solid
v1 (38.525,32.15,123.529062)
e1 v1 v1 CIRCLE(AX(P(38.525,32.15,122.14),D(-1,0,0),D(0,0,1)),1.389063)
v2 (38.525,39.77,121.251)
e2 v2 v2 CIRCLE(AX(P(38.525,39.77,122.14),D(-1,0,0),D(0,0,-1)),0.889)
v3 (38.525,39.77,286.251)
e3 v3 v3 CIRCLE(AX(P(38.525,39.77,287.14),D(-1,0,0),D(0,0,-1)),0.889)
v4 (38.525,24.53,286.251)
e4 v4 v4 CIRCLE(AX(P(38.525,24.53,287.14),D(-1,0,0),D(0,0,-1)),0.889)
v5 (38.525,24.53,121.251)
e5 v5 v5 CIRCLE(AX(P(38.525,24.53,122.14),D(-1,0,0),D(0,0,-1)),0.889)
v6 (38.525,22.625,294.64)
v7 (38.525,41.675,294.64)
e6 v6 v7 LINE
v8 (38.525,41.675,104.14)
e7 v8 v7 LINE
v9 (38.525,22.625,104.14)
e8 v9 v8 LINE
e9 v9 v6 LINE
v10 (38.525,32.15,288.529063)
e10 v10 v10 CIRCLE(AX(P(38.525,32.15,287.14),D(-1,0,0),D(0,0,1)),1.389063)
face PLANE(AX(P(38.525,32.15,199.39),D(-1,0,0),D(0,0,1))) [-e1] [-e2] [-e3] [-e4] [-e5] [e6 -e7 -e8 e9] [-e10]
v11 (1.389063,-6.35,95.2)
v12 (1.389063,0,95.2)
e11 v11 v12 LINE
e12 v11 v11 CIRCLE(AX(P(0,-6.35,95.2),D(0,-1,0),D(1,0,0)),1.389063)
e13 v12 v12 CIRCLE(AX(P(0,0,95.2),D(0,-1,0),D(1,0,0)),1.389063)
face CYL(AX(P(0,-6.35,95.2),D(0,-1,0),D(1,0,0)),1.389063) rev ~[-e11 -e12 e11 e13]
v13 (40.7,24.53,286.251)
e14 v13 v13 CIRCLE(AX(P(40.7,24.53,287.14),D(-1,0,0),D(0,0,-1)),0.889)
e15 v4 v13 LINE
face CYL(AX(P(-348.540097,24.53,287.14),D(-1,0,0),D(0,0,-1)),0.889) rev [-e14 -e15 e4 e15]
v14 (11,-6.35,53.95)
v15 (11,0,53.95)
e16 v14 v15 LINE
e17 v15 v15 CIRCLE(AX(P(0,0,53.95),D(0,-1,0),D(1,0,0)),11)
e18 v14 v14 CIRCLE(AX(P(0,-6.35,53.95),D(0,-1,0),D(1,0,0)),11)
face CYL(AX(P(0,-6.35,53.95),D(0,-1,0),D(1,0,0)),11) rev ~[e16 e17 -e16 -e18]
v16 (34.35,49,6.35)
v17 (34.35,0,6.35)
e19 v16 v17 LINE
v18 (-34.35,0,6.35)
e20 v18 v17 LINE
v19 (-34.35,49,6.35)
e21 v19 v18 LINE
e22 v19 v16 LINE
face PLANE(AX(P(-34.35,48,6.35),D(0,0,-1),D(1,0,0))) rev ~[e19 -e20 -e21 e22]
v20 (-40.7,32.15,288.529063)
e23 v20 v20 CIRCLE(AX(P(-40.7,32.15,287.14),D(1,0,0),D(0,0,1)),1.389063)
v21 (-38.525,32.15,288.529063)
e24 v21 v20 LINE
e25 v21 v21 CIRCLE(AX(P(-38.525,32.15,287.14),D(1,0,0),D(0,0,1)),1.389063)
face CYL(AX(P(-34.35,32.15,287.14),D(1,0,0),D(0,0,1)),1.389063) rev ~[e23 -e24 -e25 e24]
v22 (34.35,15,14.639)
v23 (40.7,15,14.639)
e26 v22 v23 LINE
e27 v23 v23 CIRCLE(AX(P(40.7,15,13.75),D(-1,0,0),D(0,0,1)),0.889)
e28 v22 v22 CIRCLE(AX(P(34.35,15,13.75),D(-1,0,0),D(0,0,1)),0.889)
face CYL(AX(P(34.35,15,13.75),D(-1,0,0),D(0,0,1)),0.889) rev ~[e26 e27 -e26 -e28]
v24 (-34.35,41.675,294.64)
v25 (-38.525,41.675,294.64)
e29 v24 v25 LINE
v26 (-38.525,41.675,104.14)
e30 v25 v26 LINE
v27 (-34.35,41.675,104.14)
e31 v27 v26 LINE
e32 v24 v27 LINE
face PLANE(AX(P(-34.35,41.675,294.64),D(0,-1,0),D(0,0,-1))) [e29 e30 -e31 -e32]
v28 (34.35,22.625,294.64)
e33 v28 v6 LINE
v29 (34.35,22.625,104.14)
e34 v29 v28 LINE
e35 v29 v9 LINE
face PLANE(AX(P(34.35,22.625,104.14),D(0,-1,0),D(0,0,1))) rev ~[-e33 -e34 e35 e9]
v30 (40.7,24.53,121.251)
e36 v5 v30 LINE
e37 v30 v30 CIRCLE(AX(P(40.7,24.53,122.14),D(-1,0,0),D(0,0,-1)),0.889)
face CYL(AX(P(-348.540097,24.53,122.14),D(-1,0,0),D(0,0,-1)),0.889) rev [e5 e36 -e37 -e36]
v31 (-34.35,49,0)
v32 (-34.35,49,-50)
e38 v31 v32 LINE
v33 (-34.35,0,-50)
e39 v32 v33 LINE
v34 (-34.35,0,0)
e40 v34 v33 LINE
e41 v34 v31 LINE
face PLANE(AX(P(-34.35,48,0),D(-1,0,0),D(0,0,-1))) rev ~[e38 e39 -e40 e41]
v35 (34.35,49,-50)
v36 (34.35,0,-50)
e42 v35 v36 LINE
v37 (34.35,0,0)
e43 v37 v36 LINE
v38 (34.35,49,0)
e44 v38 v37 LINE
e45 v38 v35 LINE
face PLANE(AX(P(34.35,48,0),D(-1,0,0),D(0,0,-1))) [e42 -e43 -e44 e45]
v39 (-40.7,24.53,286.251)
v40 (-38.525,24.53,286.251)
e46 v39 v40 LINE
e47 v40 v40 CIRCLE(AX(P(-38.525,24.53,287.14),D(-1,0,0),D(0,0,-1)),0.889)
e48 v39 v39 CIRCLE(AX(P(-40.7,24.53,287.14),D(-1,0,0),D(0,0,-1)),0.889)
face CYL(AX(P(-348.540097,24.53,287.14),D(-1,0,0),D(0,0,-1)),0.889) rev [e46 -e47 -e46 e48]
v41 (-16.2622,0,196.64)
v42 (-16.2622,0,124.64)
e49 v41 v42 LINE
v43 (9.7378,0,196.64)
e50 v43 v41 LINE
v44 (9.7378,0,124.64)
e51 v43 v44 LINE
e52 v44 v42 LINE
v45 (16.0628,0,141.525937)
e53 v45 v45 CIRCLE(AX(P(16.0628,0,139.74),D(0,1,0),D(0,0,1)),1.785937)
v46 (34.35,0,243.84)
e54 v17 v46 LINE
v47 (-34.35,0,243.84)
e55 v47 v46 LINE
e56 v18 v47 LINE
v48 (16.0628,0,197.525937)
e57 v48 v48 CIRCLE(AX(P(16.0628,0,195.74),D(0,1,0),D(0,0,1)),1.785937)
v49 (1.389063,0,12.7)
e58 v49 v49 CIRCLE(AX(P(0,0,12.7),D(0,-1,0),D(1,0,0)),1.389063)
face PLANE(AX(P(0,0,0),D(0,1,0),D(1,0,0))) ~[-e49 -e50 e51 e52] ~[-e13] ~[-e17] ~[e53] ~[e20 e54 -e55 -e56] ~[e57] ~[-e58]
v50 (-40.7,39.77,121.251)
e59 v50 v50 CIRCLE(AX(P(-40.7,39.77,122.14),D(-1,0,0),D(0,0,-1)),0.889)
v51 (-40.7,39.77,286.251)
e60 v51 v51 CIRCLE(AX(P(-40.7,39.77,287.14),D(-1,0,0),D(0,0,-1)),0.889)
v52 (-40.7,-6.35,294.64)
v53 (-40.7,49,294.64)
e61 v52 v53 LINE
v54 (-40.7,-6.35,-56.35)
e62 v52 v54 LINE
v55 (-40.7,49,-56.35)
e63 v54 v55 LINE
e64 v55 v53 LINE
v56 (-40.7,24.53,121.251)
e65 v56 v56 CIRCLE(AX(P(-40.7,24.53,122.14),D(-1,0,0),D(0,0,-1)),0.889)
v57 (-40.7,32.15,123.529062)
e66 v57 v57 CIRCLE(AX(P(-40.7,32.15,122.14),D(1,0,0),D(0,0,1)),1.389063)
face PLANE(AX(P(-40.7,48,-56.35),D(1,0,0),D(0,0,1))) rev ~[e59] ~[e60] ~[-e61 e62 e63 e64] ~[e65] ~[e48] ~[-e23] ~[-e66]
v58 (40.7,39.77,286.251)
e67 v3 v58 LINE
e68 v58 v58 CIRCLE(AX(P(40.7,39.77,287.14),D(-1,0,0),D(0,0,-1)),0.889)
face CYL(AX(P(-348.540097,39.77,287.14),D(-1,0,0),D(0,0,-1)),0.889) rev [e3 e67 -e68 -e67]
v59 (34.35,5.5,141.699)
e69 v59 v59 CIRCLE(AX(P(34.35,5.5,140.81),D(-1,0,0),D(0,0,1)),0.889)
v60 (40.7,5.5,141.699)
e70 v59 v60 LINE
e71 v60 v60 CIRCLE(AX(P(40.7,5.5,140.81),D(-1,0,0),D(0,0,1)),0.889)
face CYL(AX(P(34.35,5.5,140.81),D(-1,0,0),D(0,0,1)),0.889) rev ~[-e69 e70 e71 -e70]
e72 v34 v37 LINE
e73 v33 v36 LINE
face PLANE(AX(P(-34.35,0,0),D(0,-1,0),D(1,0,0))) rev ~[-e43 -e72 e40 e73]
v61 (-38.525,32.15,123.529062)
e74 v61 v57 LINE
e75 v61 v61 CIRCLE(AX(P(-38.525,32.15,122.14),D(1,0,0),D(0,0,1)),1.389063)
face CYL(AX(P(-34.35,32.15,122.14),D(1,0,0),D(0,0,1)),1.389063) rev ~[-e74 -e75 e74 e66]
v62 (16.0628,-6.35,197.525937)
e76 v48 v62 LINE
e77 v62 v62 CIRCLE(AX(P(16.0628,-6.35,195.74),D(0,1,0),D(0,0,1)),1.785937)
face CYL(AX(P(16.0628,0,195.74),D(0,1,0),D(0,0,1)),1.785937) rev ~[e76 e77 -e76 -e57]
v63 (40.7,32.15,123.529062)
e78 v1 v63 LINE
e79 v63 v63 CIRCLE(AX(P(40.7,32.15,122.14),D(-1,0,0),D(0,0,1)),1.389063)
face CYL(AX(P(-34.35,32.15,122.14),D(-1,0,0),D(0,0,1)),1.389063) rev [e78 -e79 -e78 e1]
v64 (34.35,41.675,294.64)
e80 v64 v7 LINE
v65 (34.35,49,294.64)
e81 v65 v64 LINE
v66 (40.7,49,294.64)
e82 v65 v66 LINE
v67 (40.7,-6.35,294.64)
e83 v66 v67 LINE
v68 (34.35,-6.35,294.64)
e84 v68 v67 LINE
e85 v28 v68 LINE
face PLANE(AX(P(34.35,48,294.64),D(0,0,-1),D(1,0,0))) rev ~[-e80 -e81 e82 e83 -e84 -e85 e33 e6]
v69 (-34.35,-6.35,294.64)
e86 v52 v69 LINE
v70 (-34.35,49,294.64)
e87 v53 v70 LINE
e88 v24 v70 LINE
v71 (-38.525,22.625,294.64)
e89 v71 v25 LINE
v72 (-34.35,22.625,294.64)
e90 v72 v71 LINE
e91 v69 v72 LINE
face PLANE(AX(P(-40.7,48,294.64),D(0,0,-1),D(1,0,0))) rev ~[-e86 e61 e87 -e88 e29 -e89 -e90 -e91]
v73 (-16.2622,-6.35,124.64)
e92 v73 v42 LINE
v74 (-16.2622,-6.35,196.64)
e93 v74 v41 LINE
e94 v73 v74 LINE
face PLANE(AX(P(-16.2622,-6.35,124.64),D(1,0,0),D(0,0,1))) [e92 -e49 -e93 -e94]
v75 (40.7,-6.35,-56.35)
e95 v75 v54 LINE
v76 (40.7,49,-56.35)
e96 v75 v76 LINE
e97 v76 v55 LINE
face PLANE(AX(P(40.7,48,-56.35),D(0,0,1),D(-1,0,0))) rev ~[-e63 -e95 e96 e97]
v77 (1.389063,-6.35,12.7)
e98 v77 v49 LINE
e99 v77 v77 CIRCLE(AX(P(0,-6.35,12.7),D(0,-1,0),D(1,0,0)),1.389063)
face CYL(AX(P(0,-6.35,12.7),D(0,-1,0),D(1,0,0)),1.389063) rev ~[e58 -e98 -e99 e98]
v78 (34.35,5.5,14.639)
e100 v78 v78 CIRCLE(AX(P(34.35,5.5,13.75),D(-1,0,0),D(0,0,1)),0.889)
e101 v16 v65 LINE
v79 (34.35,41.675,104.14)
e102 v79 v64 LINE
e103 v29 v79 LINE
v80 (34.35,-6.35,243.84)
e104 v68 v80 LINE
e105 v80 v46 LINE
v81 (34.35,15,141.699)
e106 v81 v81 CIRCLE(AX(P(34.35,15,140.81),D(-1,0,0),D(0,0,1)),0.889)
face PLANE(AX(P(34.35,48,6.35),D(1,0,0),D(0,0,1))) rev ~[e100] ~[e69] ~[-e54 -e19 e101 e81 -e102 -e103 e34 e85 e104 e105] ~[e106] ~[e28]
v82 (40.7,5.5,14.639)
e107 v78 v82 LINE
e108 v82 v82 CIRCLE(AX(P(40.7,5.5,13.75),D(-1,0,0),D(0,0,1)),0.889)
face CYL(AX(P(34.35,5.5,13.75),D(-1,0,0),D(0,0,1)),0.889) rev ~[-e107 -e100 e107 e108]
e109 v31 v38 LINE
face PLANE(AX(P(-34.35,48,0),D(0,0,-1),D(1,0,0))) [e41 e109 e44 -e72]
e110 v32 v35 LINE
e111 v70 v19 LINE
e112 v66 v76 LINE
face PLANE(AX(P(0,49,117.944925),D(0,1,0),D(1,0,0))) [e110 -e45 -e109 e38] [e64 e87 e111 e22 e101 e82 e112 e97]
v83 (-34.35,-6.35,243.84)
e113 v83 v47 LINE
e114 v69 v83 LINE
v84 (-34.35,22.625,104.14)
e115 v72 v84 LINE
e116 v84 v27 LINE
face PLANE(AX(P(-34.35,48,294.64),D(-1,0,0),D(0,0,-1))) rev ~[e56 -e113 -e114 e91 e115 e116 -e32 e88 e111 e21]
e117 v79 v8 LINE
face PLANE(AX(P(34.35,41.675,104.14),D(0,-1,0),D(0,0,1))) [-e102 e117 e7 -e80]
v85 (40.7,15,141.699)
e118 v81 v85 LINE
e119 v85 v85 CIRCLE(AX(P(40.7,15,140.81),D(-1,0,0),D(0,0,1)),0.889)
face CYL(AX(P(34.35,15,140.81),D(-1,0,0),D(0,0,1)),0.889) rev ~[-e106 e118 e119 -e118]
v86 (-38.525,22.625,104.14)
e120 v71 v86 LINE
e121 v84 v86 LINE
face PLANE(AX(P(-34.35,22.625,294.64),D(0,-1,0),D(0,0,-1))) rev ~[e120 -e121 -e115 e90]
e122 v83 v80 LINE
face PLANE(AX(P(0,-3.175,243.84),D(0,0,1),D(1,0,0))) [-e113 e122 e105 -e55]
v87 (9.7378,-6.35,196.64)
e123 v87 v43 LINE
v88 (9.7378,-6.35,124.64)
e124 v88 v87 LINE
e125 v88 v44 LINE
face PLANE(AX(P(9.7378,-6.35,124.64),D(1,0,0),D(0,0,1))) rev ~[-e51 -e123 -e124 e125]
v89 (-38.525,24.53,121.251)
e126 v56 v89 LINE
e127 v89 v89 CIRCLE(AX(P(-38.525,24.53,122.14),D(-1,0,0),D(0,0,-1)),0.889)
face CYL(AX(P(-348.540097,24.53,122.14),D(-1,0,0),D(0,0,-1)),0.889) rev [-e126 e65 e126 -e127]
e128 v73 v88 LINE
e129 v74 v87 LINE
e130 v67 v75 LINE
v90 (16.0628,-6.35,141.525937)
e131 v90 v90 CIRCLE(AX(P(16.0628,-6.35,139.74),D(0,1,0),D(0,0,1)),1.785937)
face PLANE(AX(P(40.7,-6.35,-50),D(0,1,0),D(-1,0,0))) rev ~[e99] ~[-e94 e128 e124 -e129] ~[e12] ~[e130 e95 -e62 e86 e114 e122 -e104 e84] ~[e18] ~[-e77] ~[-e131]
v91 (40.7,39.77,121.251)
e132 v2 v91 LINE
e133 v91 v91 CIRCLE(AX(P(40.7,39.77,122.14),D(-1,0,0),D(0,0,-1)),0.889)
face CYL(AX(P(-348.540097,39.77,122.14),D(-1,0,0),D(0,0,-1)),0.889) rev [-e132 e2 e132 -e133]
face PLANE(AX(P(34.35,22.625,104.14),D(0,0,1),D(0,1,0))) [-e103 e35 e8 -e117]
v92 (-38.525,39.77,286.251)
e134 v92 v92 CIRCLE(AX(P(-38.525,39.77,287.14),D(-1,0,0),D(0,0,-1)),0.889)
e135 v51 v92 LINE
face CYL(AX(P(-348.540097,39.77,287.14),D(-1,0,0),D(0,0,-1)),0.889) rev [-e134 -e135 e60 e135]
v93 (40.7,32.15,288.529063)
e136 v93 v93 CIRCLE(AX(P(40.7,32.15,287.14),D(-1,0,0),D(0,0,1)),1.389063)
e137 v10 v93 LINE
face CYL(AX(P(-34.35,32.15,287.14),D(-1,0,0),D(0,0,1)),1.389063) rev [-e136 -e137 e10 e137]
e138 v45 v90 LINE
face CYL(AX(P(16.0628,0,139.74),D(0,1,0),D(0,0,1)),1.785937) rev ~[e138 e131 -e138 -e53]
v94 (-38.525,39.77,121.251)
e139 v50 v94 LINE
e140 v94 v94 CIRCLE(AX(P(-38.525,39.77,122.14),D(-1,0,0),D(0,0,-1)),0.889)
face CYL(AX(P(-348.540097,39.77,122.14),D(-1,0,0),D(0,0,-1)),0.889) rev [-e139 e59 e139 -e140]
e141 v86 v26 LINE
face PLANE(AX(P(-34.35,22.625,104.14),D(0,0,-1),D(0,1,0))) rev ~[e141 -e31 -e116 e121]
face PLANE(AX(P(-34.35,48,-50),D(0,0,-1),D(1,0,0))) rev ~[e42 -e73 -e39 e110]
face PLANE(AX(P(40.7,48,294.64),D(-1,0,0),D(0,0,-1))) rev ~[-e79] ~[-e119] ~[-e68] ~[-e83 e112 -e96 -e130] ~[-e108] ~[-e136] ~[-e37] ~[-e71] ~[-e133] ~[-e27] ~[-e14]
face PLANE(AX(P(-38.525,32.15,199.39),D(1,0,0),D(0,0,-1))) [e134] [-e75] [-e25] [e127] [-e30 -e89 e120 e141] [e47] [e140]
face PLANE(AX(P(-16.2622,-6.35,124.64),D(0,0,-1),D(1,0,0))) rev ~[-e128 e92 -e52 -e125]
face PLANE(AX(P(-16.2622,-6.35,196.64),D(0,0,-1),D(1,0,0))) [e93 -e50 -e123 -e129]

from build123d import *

# Parameters (mm, degrees)
BOSS_EXTRUDE1_DEPTH            = 294.64
SKETCH3_W                      = 68.7
SKETCH3_H                      = 6.35
BOSS_EXTRUDE2_DEPTH            = 48
CUT_EXTRUDE2_REACH             = 304.363
SKETCH4_R                      = 1.3890625
SKETCH4_R_2                    = 11
SKETCH4_W                      = 26
SKETCH4_H                      = 72
CUT_EXTRUDE3_REACH             = 303.286
SKETCH5_R                      = 1.7859375
CUT_EXTRUDE4_REACH             = 309.814
SKETCH6_R                      = 1.3890625
CUT_EXTRUDE4_DIRECTION_2_REACH = 309.814
CUT_EXTRUDE5_REACH             = 309.814
SKETCH11_R                     = 0.889
SKETCH12_W                     = 68.7
SKETCH12_H                     = 6.35
CUT_EXTRUDE6_DEPTH             = 50.8
BOSS_EXTRUDE3_DEPTH            = 50
SKETCH14_W                     = 81.4
SKETCH14_H                     = 54.35
BOSS_EXTRUDE4_DEPTH            = 6.35
SKETCH15_W                     = 68.7
SKETCH15_H                     = 50
BOSS_EXTRUDE5_DEPTH            = 1
SKETCH16_W                     = 190.5
SKETCH16_H                     = 19.05
CUT_EXTRUDE7_DEPTH             = 4.175
SKETCH17_W                     = 190.5
SKETCH17_H                     = 19.05
CUT_EXTRUDE8_DEPTH             = 4.175
CUT_EXTRUDE9_DEPTH             = 310.015097083
CUT_EXTRUDE9_DEPTH_BACK        = 310.015097083
SKETCH18_R                     = 0.889


with BuildPart() as part:
    # Sketch1 → Boss-Extrude1 (new body)
    with BuildSketch(Plane.XY):
        Polygon((0, 0), (34.35, 0), (34.35, 48), (40.7, 48), (40.7, -6.35), (0, -6.35), align=None)
    extrude(amount=BOSS_EXTRUDE1_DEPTH)

    # Mirror1: part across plane


with BuildPart() as part_1:
    add(part.part)
    add(part.part.mirror(Plane(origin=(0, -6.35, 294.64), x_dir=(0, 0, 1), z_dir=(1, 0, 0))))

    # Sketch3 → Boss-Extrude2 (add)
    with BuildSketch(Plane(origin=(0, 0, 0), x_dir=(1, 0, 0), z_dir=(0, 1, 0))):
        with Locations((0, -3.175)):
            Rectangle(SKETCH3_W, SKETCH3_H)
    extrude(amount=BOSS_EXTRUDE2_DEPTH)

    # Sketch4 → Cut-Extrude2 (cut, up to next)
    with BuildSketch(Plane.XZ.offset(6.35), mode=Mode.PRIVATE) as cut_extrude2_sk1:
        with Locations((0, 12.7)):
            Circle(SKETCH4_R)
    cut_extrude2_tool1 = extrude(cut_extrude2_sk1.sketch, amount=-CUT_EXTRUDE2_REACH, mode=Mode.PRIVATE) & part_1.part
    # Sketch4 → Cut-Extrude2 (cut, up to next)
    with BuildSketch(Plane.XZ.offset(6.35), mode=Mode.PRIVATE) as cut_extrude2_sk2:
        with Locations((0, 95.2)):
            Circle(SKETCH4_R)
    cut_extrude2_tool2 = extrude(cut_extrude2_sk2.sketch, amount=-CUT_EXTRUDE2_REACH, mode=Mode.PRIVATE) & part_1.part
    # Sketch4 → Cut-Extrude2 (cut, up to next)
    with BuildSketch(Plane.XZ.offset(6.35), mode=Mode.PRIVATE) as cut_extrude2_sk3:
        with Locations((0, 53.95)):
            Circle(SKETCH4_R_2)
    cut_extrude2_tool3 = extrude(cut_extrude2_sk3.sketch, amount=-CUT_EXTRUDE2_REACH, mode=Mode.PRIVATE) & part_1.part
    # Sketch4 → Cut-Extrude2 (cut, up to next)
    with BuildSketch(Plane.XZ.offset(6.35), mode=Mode.PRIVATE) as cut_extrude2_sk4:
        with Locations((-3.2622, 160.64)):
            Rectangle(SKETCH4_W, SKETCH4_H)
    cut_extrude2_tool4 = extrude(cut_extrude2_sk4.sketch, amount=-CUT_EXTRUDE2_REACH, mode=Mode.PRIVATE) & part_1.part
    add(cut_extrude2_tool1.solids().sort_by_distance((0, -6.35, 12.7))[0], mode=Mode.SUBTRACT)
    add(cut_extrude2_tool2.solids().sort_by_distance((0, -6.35, 95.2))[0], mode=Mode.SUBTRACT)
    add(cut_extrude2_tool3.solids().sort_by_distance((0, -6.35, 53.95))[0], mode=Mode.SUBTRACT)
    add(cut_extrude2_tool4.solids().sort_by_distance((-3.2622, -6.35, 160.64))[0], mode=Mode.SUBTRACT)

    # Sketch5 → Cut-Extrude3 (cut, up to next)
    with BuildSketch(Plane(origin=(0, 0, 0), x_dir=(1, 0, 0), z_dir=(0, 1, 0)), mode=Mode.PRIVATE) as cut_extrude3_sk1:
        with Locations(Location((16.0628, -195.74, 0), (0, 0, 270))):
            Circle(SKETCH5_R)
    cut_extrude3_tool1 = extrude(cut_extrude3_sk1.sketch, amount=-CUT_EXTRUDE3_REACH, mode=Mode.PRIVATE) & part_1.part
    # Sketch5 → Cut-Extrude3 (cut, up to next)
    with BuildSketch(Plane(origin=(0, 0, 0), x_dir=(1, 0, 0), z_dir=(0, 1, 0)), mode=Mode.PRIVATE) as cut_extrude3_sk2:
        with Locations(Location((16.0628, -139.74, 0), (0, 0, 270))):
            Circle(SKETCH5_R)
    cut_extrude3_tool2 = extrude(cut_extrude3_sk2.sketch, amount=-CUT_EXTRUDE3_REACH, mode=Mode.PRIVATE) & part_1.part
    add(cut_extrude3_tool1.solids().sort_by_distance((16.0628, 0, 195.74))[0], mode=Mode.SUBTRACT)
    add(cut_extrude3_tool2.solids().sort_by_distance((16.0628, 0, 139.74))[0], mode=Mode.SUBTRACT)

    # Cut-Extrude4: up to this face of the body (flat: up to its plane)
    cut_extrude4_end = Plane(part_1.part.faces().sort_by_distance((40.7, 20.825, 147.32))[0])
    # Sketch6 → Cut-Extrude4 (cut, up to the picked face)
    with BuildSketch(Plane(origin=(-34.35, 0, 0), x_dir=(0, 0, -1), z_dir=(1, 0, 0)), mode=Mode.PRIVATE) as cut_extrude4_sk1:
        with Locations(Location((-287.14, 32.15, 0), (0, 0, 180))):
            Circle(SKETCH6_R)
    cut_extrude4_tool1 = split(extrude(cut_extrude4_sk1.sketch, amount=CUT_EXTRUDE4_REACH, mode=Mode.PRIVATE), bisect_by=cut_extrude4_end, keep=Keep.BOTH, mode=Mode.PRIVATE)
    # Sketch6 → Cut-Extrude4 (cut, up to the picked face)
    with BuildSketch(Plane(origin=(-34.35, 0, 0), x_dir=(0, 0, -1), z_dir=(1, 0, 0)), mode=Mode.PRIVATE) as cut_extrude4_sk2:
        with Locations(Location((-122.14, 32.15, 0), (0, 0, 180))):
            Circle(SKETCH6_R)
    cut_extrude4_tool2 = split(extrude(cut_extrude4_sk2.sketch, amount=CUT_EXTRUDE4_REACH, mode=Mode.PRIVATE), bisect_by=cut_extrude4_end, keep=Keep.BOTH, mode=Mode.PRIVATE)
    add(cut_extrude4_tool1.solids().sort_by(Axis((-34.35, 32.15, 287.14), (1, 0, 0)))[0], mode=Mode.SUBTRACT)
    add(cut_extrude4_tool2.solids().sort_by(Axis((-34.35, 32.15, 122.14), (1, 0, 0)))[0], mode=Mode.SUBTRACT)

    # Cut-Extrude4 direction 2: up to this face of the body (flat: up to its plane)
    cut_extrude4_direction_2_end = Plane(part_1.part.faces().sort_by_distance((-40.7, 20.825, 147.32))[0])
    # Sketch6 → Cut-Extrude4 direction 2 (cut, up to the picked face)
    with BuildSketch(Plane(origin=(-34.35, 0, 0), x_dir=(0, 0, -1), z_dir=(1, 0, 0)), mode=Mode.PRIVATE) as cut_extrude4_direction_2_sk1:
        with Locations(Location((-287.14, 32.15, 0), (0, 0, 180))):
            Circle(SKETCH6_R)
    cut_extrude4_direction_2_tool1 = split(extrude(cut_extrude4_direction_2_sk1.sketch, amount=-CUT_EXTRUDE4_DIRECTION_2_REACH, mode=Mode.PRIVATE), bisect_by=cut_extrude4_direction_2_end, keep=Keep.BOTH, mode=Mode.PRIVATE)
    # Sketch6 → Cut-Extrude4 direction 2 (cut, up to the picked face)
    with BuildSketch(Plane(origin=(-34.35, 0, 0), x_dir=(0, 0, -1), z_dir=(1, 0, 0)), mode=Mode.PRIVATE) as cut_extrude4_direction_2_sk2:
        with Locations(Location((-122.14, 32.15, 0), (0, 0, 180))):
            Circle(SKETCH6_R)
    cut_extrude4_direction_2_tool2 = split(extrude(cut_extrude4_direction_2_sk2.sketch, amount=-CUT_EXTRUDE4_DIRECTION_2_REACH, mode=Mode.PRIVATE), bisect_by=cut_extrude4_direction_2_end, keep=Keep.BOTH, mode=Mode.PRIVATE)
    add(cut_extrude4_direction_2_tool1.solids().sort_by(Axis((-34.35, 32.15, 287.14), (-1, 0, 0)))[0], mode=Mode.SUBTRACT)
    add(cut_extrude4_direction_2_tool2.solids().sort_by(Axis((-34.35, 32.15, 122.14), (-1, 0, 0)))[0], mode=Mode.SUBTRACT)

    # Sketch11 → Cut-Extrude5 (cut, up to next)
    with BuildSketch(Plane.ZY.offset(-34.35), mode=Mode.PRIVATE) as cut_extrude5_sk1:
        with Locations((13.75, 5.5)):
            Circle(SKETCH11_R)
    cut_extrude5_tool1 = extrude(cut_extrude5_sk1.sketch, amount=-CUT_EXTRUDE5_REACH, mode=Mode.PRIVATE) & part_1.part
    # Sketch11 → Cut-Extrude5 (cut, up to next)
    with BuildSketch(Plane.ZY.offset(-34.35), mode=Mode.PRIVATE) as cut_extrude5_sk2:
        with Locations((13.75, 15)):
            Circle(SKETCH11_R)
    cut_extrude5_tool2 = extrude(cut_extrude5_sk2.sketch, amount=-CUT_EXTRUDE5_REACH, mode=Mode.PRIVATE) & part_1.part
    # Sketch11 → Cut-Extrude5 (cut, up to next)
    with BuildSketch(Plane.ZY.offset(-34.35), mode=Mode.PRIVATE) as cut_extrude5_sk3:
        with Locations((140.81, 15)):
            Circle(SKETCH11_R)
    cut_extrude5_tool3 = extrude(cut_extrude5_sk3.sketch, amount=-CUT_EXTRUDE5_REACH, mode=Mode.PRIVATE) & part_1.part
    # Sketch11 → Cut-Extrude5 (cut, up to next)
    with BuildSketch(Plane.ZY.offset(-34.35), mode=Mode.PRIVATE) as cut_extrude5_sk4:
        with Locations((140.81, 5.5)):
            Circle(SKETCH11_R)
    cut_extrude5_tool4 = extrude(cut_extrude5_sk4.sketch, amount=-CUT_EXTRUDE5_REACH, mode=Mode.PRIVATE) & part_1.part
    add(cut_extrude5_tool1.solids().sort_by_distance((34.35, 5.5, 13.75))[0], mode=Mode.SUBTRACT)
    add(cut_extrude5_tool2.solids().sort_by_distance((34.35, 15, 13.75))[0], mode=Mode.SUBTRACT)
    add(cut_extrude5_tool3.solids().sort_by_distance((34.35, 15, 140.81))[0], mode=Mode.SUBTRACT)
    add(cut_extrude5_tool4.solids().sort_by_distance((34.35, 5.5, 140.81))[0], mode=Mode.SUBTRACT)

    # Sketch12 → Cut-Extrude6 (cut)
    with BuildSketch(Plane.XY.offset(294.64)):
        with Locations((0, -3.175)):
            Rectangle(SKETCH12_W, SKETCH12_H)
    extrude(amount=-CUT_EXTRUDE6_DEPTH, mode=Mode.SUBTRACT)

    # Sketch13 → Boss-Extrude3 (add)
    with BuildSketch(Plane(origin=(0, 0, 0), x_dir=(-1, 0, 0), z_dir=(0, 0, -1))):
        Polygon((34.35, 48), (34.35, 0), (-34.35, 0), (-34.35, 48), (-40.7, 48), (-40.7, -6.35), (40.7, -6.35), (40.7, 48), align=None)
    extrude(amount=BOSS_EXTRUDE3_DEPTH)

    # Sketch14 → Boss-Extrude4 (add)
    with BuildSketch(Plane(origin=(0, 0, -50), x_dir=(-1, 0, 0), z_dir=(0, 0, -1))):
        with Locations((0, 20.825)):
            Rectangle(SKETCH14_W, SKETCH14_H)
    extrude(amount=BOSS_EXTRUDE4_DEPTH)

    # Sketch15 → Boss-Extrude5 (add)
    with BuildSketch(Plane(origin=(0, 48, 0), x_dir=(1, 0, 0), z_dir=(0, 1, 0))):
        Polygon((40.7, -294.64), (40.7, 56.35), (-40.7, 56.35), (-40.7, -294.64), (-34.35, -294.64), (-34.35, -6.35), (34.35, -6.35), (34.35, -294.64), align=None)
        with Locations((0, 25)):
            Rectangle(SKETCH15_W, SKETCH15_H, mode=Mode.SUBTRACT)
    extrude(amount=BOSS_EXTRUDE5_DEPTH)

    # Sketch16 → Cut-Extrude7 (cut)
    with BuildSketch(Plane(origin=(-34.35, 0, 0), x_dir=(0, 0, -1), z_dir=(1, 0, 0))):
        with Locations((-199.39, 32.15)):
            Rectangle(SKETCH16_W, SKETCH16_H)
    extrude(amount=-CUT_EXTRUDE7_DEPTH, mode=Mode.SUBTRACT)

    # Sketch17 → Cut-Extrude8 (cut)
    with BuildSketch(Plane.ZY.offset(-34.35)):
        with Locations((199.39, 32.15)):
            Rectangle(SKETCH17_W, SKETCH17_H)
    extrude(amount=-CUT_EXTRUDE8_DEPTH, mode=Mode.SUBTRACT)

    # Sketch18 → Cut-Extrude9 (cut, two sides: drawn at the far end of the back side and taken through both)
    with BuildSketch(Plane(origin=(-38.525, 0, 0), x_dir=(0, 0, -1), z_dir=(1, 0, 0)).offset(-CUT_EXTRUDE9_DEPTH_BACK)):
        with Locations((-287.14, 39.77)):
            Circle(SKETCH18_R)
        with Locations((-287.14, 24.53)):
            Circle(SKETCH18_R)
        with Locations((-122.14, 39.77)):
            Circle(SKETCH18_R)
        with Locations((-122.14, 24.53)):
            Circle(SKETCH18_R)
    extrude(amount=CUT_EXTRUDE9_DEPTH + CUT_EXTRUDE9_DEPTH_BACK, mode=Mode.SUBTRACT)


solid = part_1.part
